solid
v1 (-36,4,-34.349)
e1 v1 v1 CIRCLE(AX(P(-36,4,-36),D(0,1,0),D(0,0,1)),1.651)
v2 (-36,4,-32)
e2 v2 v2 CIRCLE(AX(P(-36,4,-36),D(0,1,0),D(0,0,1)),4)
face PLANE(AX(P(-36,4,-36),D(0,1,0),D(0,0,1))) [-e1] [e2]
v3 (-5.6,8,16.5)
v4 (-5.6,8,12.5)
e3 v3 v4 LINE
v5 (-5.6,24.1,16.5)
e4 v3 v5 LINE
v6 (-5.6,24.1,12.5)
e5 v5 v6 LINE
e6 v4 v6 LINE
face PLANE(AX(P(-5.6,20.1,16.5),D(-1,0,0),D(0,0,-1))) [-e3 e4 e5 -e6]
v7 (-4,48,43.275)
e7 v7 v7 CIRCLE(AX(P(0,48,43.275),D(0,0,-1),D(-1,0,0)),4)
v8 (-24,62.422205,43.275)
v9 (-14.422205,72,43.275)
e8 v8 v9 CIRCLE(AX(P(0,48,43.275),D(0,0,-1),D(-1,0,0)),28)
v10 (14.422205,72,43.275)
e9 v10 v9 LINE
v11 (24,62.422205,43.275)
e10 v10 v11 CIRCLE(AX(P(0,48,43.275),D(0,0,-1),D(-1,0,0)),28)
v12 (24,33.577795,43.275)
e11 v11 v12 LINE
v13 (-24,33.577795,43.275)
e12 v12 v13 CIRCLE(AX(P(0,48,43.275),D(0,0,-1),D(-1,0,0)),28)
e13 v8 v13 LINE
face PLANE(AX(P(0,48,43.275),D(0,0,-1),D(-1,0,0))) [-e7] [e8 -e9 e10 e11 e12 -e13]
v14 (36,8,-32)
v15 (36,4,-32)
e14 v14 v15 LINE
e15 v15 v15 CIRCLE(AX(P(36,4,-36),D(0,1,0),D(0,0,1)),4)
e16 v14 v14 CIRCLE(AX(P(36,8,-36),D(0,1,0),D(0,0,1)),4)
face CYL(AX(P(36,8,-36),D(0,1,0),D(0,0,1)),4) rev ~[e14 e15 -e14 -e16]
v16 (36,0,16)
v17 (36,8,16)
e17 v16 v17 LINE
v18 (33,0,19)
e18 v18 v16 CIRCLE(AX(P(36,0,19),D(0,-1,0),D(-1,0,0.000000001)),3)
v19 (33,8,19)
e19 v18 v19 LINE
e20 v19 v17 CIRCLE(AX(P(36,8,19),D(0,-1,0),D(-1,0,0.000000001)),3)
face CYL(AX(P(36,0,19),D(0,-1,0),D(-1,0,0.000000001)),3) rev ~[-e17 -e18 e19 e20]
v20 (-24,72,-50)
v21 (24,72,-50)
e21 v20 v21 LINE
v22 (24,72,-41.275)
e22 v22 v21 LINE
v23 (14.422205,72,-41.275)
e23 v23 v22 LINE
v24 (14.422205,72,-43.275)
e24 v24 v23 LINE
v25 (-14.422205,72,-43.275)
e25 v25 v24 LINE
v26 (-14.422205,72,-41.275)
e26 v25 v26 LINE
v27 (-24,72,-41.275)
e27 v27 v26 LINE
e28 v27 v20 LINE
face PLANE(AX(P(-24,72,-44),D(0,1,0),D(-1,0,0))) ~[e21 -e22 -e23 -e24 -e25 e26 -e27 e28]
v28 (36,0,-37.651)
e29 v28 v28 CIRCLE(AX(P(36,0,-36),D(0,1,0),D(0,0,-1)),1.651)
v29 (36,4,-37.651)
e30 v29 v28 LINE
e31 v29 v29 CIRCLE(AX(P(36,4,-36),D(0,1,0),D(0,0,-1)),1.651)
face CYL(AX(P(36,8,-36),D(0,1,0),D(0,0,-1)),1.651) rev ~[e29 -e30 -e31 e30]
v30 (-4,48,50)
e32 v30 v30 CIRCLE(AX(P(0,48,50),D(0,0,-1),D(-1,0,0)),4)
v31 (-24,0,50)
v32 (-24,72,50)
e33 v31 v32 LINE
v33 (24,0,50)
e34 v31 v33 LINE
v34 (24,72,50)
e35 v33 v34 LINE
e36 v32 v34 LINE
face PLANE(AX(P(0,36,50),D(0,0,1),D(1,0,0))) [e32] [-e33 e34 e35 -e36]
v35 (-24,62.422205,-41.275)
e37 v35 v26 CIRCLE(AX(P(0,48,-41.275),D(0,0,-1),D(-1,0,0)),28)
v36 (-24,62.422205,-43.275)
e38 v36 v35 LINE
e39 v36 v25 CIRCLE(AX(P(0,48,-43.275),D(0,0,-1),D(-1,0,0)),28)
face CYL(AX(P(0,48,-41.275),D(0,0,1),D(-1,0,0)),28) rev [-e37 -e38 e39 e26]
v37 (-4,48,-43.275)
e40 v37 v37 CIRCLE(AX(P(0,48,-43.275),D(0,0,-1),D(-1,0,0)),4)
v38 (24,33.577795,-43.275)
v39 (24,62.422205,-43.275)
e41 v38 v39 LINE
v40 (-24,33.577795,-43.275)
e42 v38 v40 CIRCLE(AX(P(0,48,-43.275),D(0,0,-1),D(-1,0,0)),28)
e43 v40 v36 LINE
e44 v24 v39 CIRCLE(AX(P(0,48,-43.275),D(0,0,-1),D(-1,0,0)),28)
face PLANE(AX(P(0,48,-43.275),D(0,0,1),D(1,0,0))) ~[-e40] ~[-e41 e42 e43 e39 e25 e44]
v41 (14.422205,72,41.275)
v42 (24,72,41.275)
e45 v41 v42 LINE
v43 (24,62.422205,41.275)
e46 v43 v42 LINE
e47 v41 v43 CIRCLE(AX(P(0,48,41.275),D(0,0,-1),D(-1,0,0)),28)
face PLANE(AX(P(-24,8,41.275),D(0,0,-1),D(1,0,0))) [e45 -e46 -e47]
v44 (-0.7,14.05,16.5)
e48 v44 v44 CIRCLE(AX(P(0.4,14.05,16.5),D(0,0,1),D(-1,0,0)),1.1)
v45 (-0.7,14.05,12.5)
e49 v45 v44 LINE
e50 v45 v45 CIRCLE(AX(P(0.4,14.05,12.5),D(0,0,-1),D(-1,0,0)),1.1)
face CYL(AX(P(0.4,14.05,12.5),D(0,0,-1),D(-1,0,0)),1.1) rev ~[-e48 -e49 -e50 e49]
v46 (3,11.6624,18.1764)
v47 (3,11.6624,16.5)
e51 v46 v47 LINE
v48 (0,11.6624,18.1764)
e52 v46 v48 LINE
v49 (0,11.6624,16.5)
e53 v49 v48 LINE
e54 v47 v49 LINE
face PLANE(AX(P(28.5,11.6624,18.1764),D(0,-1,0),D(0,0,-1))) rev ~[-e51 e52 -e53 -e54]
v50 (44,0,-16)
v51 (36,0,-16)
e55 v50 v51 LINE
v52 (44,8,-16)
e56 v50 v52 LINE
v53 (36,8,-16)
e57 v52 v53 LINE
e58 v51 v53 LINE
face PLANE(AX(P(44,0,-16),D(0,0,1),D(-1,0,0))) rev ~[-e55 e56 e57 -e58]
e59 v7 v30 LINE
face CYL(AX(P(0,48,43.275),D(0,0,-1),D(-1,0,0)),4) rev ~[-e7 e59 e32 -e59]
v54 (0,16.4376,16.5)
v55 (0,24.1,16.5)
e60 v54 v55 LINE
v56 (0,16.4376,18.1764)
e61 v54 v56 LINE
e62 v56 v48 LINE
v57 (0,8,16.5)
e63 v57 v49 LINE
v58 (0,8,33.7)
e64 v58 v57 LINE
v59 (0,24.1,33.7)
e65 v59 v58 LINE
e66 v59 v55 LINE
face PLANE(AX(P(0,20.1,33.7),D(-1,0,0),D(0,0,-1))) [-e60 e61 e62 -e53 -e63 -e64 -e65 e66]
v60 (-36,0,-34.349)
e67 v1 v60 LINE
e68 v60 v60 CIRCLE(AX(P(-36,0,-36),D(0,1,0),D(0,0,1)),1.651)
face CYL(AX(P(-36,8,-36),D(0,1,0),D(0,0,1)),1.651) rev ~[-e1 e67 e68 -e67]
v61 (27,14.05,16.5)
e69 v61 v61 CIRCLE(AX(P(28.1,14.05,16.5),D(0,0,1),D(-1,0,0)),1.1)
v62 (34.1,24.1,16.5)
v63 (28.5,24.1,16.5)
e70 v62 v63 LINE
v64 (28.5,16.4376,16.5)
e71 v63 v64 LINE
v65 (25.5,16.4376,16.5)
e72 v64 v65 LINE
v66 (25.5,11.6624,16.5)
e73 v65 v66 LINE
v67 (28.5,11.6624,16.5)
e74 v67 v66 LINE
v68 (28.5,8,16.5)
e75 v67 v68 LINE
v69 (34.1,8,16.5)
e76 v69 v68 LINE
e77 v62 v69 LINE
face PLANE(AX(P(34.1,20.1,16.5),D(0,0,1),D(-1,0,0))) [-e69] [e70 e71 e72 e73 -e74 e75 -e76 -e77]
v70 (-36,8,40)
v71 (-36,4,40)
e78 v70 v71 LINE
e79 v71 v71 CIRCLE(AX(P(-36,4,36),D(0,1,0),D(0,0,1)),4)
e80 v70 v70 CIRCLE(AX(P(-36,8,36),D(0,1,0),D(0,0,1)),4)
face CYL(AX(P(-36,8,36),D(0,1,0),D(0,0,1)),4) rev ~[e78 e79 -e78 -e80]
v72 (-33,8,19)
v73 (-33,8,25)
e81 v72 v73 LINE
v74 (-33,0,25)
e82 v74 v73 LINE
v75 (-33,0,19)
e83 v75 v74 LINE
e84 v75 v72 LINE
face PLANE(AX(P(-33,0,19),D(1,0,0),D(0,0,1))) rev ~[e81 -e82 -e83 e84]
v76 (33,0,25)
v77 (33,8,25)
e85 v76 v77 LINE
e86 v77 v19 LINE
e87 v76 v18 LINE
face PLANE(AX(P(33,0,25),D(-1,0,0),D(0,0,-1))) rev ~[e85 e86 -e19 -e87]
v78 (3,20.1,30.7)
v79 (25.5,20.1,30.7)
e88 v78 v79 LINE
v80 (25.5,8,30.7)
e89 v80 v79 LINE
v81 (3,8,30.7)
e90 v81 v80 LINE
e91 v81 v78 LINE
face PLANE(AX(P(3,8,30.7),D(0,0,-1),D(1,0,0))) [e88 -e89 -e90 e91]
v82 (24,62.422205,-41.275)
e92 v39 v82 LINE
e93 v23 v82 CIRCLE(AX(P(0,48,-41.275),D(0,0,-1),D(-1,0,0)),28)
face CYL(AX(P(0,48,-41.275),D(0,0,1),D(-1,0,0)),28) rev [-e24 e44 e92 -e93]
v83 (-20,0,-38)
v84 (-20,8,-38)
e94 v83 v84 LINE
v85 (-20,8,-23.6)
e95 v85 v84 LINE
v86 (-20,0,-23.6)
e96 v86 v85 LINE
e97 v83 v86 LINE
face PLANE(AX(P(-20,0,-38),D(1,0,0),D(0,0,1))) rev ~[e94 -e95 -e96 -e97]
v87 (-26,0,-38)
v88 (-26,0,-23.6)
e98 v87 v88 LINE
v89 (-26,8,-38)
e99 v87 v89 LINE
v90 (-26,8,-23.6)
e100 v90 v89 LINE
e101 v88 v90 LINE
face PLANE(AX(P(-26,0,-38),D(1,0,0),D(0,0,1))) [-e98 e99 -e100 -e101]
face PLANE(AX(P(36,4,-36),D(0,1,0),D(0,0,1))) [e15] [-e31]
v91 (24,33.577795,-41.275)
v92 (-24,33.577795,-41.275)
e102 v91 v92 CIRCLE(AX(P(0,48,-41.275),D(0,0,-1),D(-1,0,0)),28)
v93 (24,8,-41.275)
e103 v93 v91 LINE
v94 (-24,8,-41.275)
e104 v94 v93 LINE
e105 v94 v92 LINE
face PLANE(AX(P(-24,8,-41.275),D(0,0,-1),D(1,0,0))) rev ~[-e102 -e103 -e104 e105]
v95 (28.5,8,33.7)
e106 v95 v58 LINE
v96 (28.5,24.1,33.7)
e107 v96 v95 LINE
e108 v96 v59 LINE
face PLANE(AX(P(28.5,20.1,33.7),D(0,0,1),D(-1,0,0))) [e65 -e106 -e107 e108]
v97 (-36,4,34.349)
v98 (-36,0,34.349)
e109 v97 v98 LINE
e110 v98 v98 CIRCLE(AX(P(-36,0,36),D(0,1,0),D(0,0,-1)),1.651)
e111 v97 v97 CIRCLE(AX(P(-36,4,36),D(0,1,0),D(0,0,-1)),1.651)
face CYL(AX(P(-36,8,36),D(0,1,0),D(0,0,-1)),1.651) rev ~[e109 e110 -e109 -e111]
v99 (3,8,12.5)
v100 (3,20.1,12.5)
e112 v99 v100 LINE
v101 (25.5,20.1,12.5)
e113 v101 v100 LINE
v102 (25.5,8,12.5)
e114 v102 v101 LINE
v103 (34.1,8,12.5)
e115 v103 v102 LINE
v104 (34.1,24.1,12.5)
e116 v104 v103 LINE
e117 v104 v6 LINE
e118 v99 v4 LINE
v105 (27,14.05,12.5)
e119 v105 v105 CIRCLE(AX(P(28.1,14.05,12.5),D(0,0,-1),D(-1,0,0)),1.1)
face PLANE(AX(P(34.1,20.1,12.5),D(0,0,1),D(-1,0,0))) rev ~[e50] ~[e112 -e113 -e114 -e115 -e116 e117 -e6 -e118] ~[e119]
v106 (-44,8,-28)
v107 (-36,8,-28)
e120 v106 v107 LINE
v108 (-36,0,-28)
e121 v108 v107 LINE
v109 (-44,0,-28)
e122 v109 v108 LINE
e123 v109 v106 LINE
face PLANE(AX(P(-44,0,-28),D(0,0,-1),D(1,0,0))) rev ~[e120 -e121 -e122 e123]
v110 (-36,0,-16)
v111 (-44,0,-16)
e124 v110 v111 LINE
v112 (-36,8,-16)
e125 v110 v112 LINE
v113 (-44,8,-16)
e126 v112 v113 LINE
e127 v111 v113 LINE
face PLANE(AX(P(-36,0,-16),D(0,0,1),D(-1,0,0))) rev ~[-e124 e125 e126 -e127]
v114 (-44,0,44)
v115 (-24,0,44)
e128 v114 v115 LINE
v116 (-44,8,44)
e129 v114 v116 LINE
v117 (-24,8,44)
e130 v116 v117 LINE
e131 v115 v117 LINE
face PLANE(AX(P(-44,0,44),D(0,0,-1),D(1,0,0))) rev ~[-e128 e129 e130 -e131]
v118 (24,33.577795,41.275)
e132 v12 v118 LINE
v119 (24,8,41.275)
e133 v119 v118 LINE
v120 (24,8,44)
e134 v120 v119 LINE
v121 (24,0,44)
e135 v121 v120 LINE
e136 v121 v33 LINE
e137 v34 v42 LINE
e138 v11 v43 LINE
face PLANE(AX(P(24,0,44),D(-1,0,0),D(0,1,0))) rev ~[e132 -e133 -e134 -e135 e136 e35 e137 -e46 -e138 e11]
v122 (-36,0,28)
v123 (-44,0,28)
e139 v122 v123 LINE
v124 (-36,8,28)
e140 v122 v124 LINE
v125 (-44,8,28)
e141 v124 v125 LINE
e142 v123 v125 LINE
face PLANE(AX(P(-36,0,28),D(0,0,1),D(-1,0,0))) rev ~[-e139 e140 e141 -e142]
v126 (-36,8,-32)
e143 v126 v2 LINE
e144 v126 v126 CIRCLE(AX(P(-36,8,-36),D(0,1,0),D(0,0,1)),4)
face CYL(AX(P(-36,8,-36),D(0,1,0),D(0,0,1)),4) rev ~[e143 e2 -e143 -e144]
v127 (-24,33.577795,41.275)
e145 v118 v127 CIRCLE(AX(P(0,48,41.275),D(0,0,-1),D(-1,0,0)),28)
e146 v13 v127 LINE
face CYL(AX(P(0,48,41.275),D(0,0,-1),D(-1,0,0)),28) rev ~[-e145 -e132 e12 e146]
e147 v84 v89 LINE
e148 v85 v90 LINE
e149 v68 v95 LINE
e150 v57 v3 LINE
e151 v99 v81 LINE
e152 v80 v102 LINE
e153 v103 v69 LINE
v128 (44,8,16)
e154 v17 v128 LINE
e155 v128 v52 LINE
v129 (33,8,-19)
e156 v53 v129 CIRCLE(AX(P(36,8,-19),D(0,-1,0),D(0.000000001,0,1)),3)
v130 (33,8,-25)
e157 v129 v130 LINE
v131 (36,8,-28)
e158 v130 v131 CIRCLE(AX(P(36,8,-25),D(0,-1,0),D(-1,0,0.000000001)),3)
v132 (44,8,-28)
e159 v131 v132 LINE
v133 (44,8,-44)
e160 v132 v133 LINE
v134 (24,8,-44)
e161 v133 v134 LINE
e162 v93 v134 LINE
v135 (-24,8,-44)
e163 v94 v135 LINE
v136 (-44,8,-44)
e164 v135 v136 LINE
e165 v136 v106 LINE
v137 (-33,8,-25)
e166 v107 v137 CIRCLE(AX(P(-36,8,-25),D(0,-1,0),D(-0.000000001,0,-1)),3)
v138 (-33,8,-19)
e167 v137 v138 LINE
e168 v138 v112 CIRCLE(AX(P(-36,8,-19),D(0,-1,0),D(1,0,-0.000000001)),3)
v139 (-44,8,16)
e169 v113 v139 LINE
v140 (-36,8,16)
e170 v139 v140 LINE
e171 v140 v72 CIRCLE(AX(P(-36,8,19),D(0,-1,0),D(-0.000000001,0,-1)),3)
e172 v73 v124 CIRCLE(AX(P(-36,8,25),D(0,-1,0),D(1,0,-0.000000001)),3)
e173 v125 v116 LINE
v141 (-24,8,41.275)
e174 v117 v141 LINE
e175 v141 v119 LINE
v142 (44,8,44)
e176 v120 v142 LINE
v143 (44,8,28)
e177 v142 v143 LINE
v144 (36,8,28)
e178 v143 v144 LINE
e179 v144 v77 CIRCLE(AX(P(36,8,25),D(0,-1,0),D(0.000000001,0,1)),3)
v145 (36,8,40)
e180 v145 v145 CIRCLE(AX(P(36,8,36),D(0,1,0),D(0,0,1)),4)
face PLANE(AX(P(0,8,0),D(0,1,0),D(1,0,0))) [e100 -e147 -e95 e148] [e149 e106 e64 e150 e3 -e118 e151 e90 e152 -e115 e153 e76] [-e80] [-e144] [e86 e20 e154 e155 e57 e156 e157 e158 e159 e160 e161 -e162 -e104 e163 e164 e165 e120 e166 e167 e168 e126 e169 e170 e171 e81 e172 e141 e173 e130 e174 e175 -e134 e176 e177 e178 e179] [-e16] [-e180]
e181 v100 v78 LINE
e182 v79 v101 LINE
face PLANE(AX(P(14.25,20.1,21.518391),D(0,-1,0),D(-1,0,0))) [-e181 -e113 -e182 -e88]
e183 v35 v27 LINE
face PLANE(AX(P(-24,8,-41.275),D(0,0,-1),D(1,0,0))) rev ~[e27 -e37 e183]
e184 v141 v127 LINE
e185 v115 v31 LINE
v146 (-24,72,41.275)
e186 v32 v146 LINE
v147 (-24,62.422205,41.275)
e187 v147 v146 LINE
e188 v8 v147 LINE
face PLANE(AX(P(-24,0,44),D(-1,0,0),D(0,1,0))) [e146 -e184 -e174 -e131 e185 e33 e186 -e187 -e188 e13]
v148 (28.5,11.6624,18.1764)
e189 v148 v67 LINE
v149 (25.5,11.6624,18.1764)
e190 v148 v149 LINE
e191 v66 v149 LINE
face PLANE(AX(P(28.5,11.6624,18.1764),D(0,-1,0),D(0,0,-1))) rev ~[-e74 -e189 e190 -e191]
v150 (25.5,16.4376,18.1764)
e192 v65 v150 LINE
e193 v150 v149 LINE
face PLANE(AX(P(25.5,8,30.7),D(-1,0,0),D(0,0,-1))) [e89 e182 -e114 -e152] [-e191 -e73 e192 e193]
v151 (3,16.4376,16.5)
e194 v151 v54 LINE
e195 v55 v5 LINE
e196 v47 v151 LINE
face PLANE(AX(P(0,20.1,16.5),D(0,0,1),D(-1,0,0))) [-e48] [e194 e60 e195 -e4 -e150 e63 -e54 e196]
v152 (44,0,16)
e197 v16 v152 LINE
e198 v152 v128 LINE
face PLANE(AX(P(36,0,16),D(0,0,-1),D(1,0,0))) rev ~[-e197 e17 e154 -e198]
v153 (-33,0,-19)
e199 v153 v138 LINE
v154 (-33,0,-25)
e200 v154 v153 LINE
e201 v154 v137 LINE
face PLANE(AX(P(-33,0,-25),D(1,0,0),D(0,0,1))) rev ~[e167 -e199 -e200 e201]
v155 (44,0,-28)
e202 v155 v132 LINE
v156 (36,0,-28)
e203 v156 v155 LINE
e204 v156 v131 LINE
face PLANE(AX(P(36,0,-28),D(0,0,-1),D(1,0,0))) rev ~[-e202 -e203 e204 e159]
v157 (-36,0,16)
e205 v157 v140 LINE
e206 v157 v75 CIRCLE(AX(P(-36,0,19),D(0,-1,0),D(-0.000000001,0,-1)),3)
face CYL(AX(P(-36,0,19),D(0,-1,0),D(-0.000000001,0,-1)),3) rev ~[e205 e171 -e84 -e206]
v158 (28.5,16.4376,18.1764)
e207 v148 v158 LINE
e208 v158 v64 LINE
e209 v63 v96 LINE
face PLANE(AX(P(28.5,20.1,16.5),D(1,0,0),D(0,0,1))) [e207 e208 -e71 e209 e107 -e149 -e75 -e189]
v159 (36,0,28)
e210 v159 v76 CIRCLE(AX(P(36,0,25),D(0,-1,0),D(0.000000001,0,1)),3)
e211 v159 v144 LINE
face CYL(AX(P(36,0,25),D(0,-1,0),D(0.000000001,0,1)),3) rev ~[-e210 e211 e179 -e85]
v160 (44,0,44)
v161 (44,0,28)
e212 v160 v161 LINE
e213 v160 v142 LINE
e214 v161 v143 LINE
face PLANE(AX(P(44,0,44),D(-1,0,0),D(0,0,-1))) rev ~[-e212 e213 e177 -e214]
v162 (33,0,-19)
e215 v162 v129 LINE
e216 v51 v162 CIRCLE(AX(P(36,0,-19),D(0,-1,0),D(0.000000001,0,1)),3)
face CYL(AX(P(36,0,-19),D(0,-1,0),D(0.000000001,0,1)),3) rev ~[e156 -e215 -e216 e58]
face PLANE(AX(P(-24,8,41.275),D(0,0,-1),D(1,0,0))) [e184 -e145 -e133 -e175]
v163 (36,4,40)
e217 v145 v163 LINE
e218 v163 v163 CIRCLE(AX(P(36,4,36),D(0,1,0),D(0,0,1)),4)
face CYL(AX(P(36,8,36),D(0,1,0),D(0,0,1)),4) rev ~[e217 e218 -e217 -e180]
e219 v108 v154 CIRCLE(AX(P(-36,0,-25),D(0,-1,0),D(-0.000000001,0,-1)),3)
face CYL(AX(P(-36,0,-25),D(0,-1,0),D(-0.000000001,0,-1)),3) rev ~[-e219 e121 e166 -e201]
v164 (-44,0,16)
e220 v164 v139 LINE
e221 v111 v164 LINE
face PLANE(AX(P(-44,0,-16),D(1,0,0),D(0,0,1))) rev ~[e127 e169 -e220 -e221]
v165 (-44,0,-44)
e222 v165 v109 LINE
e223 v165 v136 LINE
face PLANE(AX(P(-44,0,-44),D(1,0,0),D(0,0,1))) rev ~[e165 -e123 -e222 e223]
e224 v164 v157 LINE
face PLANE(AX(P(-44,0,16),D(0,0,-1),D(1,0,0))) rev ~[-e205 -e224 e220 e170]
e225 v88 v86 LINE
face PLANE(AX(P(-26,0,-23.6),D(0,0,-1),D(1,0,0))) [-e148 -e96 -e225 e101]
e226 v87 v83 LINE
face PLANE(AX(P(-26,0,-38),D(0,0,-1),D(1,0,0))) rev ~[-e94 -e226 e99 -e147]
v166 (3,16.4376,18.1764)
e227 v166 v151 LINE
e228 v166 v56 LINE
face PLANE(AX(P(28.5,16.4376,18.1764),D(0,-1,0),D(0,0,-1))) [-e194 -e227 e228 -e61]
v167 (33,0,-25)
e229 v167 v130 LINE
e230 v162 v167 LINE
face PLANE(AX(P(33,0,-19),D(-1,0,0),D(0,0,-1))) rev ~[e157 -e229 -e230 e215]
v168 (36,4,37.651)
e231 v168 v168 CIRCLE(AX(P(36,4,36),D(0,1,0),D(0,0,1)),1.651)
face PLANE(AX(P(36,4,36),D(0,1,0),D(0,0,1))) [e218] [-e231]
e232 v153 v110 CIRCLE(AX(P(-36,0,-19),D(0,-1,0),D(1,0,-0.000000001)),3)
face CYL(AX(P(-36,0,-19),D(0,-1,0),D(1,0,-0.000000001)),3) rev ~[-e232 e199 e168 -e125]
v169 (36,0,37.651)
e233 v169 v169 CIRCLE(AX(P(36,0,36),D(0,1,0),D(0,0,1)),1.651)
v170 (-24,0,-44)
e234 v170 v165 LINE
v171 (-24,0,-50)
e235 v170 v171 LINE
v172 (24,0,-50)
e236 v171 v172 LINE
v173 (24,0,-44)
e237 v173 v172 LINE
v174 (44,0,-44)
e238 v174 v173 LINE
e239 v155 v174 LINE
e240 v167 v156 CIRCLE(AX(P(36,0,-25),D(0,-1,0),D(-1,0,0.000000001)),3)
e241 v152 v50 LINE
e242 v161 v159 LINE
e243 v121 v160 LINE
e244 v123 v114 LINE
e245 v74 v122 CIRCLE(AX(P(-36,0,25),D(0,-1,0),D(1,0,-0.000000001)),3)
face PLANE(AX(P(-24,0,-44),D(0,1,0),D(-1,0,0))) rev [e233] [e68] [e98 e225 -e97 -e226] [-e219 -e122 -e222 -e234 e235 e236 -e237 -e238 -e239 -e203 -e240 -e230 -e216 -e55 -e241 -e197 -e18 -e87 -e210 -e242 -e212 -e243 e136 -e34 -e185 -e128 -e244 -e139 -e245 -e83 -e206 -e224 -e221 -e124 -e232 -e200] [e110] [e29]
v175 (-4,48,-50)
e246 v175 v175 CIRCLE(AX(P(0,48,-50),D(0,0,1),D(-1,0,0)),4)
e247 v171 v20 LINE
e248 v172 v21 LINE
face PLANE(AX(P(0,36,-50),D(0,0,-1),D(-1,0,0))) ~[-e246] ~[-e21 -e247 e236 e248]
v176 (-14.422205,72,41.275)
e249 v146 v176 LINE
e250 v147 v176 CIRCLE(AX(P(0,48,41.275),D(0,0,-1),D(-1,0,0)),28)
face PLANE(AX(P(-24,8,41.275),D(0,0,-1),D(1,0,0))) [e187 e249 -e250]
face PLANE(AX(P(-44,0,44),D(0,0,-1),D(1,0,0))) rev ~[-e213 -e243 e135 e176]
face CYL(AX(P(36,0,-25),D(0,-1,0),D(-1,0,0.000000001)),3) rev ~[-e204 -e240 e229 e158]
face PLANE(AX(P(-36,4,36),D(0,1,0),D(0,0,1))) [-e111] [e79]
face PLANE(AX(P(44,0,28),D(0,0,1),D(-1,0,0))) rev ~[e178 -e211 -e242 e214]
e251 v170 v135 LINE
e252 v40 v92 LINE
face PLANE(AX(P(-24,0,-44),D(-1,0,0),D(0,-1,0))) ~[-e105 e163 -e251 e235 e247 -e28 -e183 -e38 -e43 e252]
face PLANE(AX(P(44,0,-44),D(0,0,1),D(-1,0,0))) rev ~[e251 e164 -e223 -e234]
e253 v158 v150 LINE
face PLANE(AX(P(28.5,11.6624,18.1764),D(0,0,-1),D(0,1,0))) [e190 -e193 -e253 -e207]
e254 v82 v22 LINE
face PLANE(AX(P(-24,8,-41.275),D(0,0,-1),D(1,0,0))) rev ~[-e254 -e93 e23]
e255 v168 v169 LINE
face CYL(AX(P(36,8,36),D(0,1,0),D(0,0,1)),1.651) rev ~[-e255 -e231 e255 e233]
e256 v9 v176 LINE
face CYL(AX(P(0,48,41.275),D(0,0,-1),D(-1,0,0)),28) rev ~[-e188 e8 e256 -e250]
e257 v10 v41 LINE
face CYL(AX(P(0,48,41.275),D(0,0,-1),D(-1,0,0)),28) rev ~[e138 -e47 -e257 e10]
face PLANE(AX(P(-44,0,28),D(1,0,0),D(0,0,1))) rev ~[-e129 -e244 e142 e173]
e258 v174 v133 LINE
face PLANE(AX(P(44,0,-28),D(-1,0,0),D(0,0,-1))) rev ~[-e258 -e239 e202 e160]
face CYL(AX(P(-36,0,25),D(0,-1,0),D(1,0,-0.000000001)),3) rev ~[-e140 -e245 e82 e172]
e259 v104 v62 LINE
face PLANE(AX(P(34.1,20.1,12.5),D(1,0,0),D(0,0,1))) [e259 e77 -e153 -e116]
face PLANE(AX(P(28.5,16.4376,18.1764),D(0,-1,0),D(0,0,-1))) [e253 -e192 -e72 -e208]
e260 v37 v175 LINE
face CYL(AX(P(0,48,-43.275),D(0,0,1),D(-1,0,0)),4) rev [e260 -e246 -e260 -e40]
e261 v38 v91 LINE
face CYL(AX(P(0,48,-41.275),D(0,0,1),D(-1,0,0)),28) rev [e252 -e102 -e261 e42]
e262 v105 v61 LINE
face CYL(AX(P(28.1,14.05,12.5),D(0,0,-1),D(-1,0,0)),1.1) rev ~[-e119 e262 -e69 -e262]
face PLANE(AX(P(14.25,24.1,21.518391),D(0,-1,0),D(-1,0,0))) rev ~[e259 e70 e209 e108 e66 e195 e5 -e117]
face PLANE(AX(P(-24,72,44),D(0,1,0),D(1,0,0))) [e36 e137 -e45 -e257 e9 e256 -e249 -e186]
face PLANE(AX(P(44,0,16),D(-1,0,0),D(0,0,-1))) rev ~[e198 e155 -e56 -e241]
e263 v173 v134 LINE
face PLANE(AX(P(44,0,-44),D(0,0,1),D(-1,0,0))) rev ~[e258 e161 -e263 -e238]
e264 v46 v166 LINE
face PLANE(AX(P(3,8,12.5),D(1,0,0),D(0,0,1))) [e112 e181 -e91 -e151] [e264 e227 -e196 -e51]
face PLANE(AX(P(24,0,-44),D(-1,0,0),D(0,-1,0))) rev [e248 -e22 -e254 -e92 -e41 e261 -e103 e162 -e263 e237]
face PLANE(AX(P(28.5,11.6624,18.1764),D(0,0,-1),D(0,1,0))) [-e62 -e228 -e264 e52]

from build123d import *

# Parameters (mm, degrees)
BOSS_EXTRUDE1_DEPTH = 8
SKETCH2_R           = 1.651
CUT_EXTRUDE1_DEPTH  = 63.737548565
SKETCH3_R           = 4
CUT_EXTRUDE2_DEPTH  = 4
BOSS_EXTRUDE2_DEPTH = 12.1
BOSS_EXTRUDE3_DEPTH = 4
SKETCH6_R           = 1.1
CUT_EXTRUDE4_DEPTH  = 4
SKETCH7_W           = 1.6764
SKETCH7_H           = 4.7752
CUT_EXTRUDE5_DEPTH  = 89.164959026
SKETCH8_W           = 48
SKETCH8_H           = 2.725
BOSS_EXTRUDE4_DEPTH = 64
SKETCH9_W           = 48
SKETCH9_H           = 72
BOSS_EXTRUDE5_DEPTH = 6
SKETCH10_R          = 28
CUT_EXTRUDE6_DEPTH  = 2
SKETCH12_R          = 4
CUT_EXTRUDE7_DEPTH  = 126.778478386
SKETCH13_W          = 6
SKETCH13_H          = 14.4
CUT_EXTRUDE8_DEPTH  = 99.081598682


with BuildPart() as part:
    # Sketch1 → Boss-Extrude1 (new body)
    with BuildSketch(Plane(origin=(0, 0, 0), x_dir=(1, 0, 0), z_dir=(0, 1, 0))):
        with BuildLine():
            Line((-44, 28), (-36, 28))
            ThreePointArc((-36, 28), (-33.878679656, 27.121320344), (-33, 25))
            Line((-33, 25), (-33, 19))
            ThreePointArc((-33, 19), (-33.878679656, 16.878679656), (-36, 16))
            Line((-36, 16), (-44, 16))
            Line((-44, 16), (-44, -16))
            Line((-44, -16), (-36, -16))
            ThreePointArc((-36, -16), (-33.878679656, -16.878679656), (-33, -19))
            Line((-33, -19), (-33, -25))
            ThreePointArc((-33, -25), (-33.878679656, -27.121320344), (-36, -28))
            Line((-36, -28), (-44, -28))
            Line((-44, -28), (-44, -44))
            Line((-44, -44), (44, -44))
            Line((44, -44), (44, -28))
            Line((44, -28), (36, -28))
            ThreePointArc((36, -28), (33.878679656, -27.121320344), (33, -25))
            Line((33, -25), (33, -19))
            ThreePointArc((33, -19), (33.878679656, -16.878679656), (36, -16))
            Line((36, -16), (44, -16))
            Line((44, -16), (44, 16))
            Line((44, 16), (36, 16))
            ThreePointArc((36, 16), (33.878679656, 16.878679656), (33, 19))
            Line((33, 19), (33, 25))
            ThreePointArc((33, 25), (33.878679656, 27.121320344), (36, 28))
            Line((36, 28), (44, 28))
            Line((44, 28), (44, 44))
            Line((44, 44), (-44, 44))
            Line((-44, 44), (-44, 28))
        make_face()
    extrude(amount=BOSS_EXTRUDE1_DEPTH)

    # Sketch2 → Cut-Extrude1 (cut, through all)
    with BuildSketch(Plane(origin=(0, 8, 0), x_dir=(1, 0, 0), z_dir=(0, 1, 0))):
        with Locations(Location((-36, 36, 0), (0, 0, 270))):
            Circle(SKETCH2_R)
        with Locations(Location((36, 36, 0), (0, 0, 90))):
            Circle(SKETCH2_R)
        with Locations(Location((36, -36, 0), (0, 0, 270))):
            Circle(SKETCH2_R)
        with Locations(Location((-36, -36, 0), (0, 0, 90))):
            Circle(SKETCH2_R)
    extrude(amount=-CUT_EXTRUDE1_DEPTH, mode=Mode.SUBTRACT)

    # Sketch3 → Cut-Extrude2 (cut)
    with BuildSketch(Plane(origin=(0, 8, 0), x_dir=(1, 0, 0), z_dir=(0, 1, 0))):
        with Locations(Location((-36, 36, 0), (0, 0, 270))):
            Circle(SKETCH3_R)
        with Locations(Location((36, 36, 0), (0, 0, 270))):
            Circle(SKETCH3_R)
        with Locations(Location((36, -36, 0), (0, 0, 270))):
            Circle(SKETCH3_R)
        with Locations(Location((-36, -36, 0), (0, 0, 270))):
            Circle(SKETCH3_R)
    extrude(amount=-CUT_EXTRUDE2_DEPTH, mode=Mode.SUBTRACT)

    # Sketch4 → Boss-Extrude2 (add)
    with BuildSketch(Plane(origin=(0, 8, 0), x_dir=(1, 0, 0), z_dir=(0, 1, 0))):
        Polygon((0, -12.5), (3, -12.5), (3, -30.7), (25.5, -30.7), (25.5, -12.5), (28.5, -12.5), (34.1, -12.5), (34.1, -16.5), (28.5, -16.5), (28.5, -33.7), (0, -33.7), (0, -16.5), (-5.6, -16.5), (-5.6, -12.5), align=None)
    extrude(amount=BOSS_EXTRUDE2_DEPTH)

    # Sketch5 → Boss-Extrude3 (add)
    with BuildSketch(Plane(origin=(0, 20.1, 0), x_dir=(1, 0, 0), z_dir=(0, 1, 0))):
        Polygon((3, -12.5), (25.5, -12.5), (34.1, -12.5), (34.1, -16.5), (28.5, -16.5), (28.5, -33.7), (0, -33.7), (0, -16.5), (-5.6, -16.5), (-5.6, -12.5), align=None)
    extrude(amount=BOSS_EXTRUDE3_DEPTH)

    # Sketch6 → Cut-Extrude4 (cut)
    with BuildSketch(Plane(origin=(0, 0, 12.5), x_dir=(-1, 0, 0), z_dir=(0, 0, -1))):
        with Locations((-28.1, 14.05)):
            Circle(SKETCH6_R)
        with Locations((-0.4, 14.05)):
            Circle(SKETCH6_R)
    extrude(amount=-CUT_EXTRUDE4_DEPTH, mode=Mode.SUBTRACT)

    # Sketch7 → Cut-Extrude5 (cut, through all)
    with BuildSketch(Plane(origin=(28.5, 0, 0), x_dir=(0, 0, -1), z_dir=(1, 0, 0))):
        with Locations((-17.3382, 14.05)):
            Rectangle(SKETCH7_W, SKETCH7_H)
    extrude(amount=-CUT_EXTRUDE5_DEPTH, mode=Mode.SUBTRACT)

    # Sketch8 → Boss-Extrude4 (add)
    with BuildSketch(Plane(origin=(0, 8, 0), x_dir=(1, 0, 0), z_dir=(0, 1, 0))):
        with Locations((0, 42.6375)):
            Rectangle(SKETCH8_W, SKETCH8_H)
        with Locations((0, -42.6375)):
            Rectangle(SKETCH8_W, SKETCH8_H)
    extrude(amount=BOSS_EXTRUDE4_DEPTH)

    # Sketch9 → Boss-Extrude5 (add)
    with BuildSketch(Plane.XY.offset(44)):
        with Locations((0, 36)):
            Rectangle(SKETCH9_W, SKETCH9_H)
    boss_extrude5 = extrude(amount=BOSS_EXTRUDE5_DEPTH)

    # Mirror1: Boss-Extrude5 across plane
    add(boss_extrude5.mirror(Plane.XY))

    # Sketch10 → Cut-Extrude6 (cut)
    with BuildSketch(Plane(origin=(0, 0, 41.275), x_dir=(-1, 0, 0), z_dir=(0, 0, -1))):
        with Locations((0, 48)):
            Circle(SKETCH10_R)
    cut_extrude6 = extrude(amount=-CUT_EXTRUDE6_DEPTH, mode=Mode.SUBTRACT)

    # Sketch12 → Cut-Extrude7 (cut, through all)
    with BuildSketch(Plane(origin=(0, 0, 43.275), x_dir=(-1, 0, 0), z_dir=(0, 0, -1))):
        with Locations((0, 48)):
            Circle(SKETCH12_R)
    cut_extrude7 = extrude(amount=-CUT_EXTRUDE7_DEPTH, mode=Mode.SUBTRACT)

    # Mirror2: Cut-Extrude6, Cut-Extrude7 across plane
    add(cut_extrude6.mirror(Plane.XY), mode=Mode.SUBTRACT)
    add(cut_extrude7.mirror(Plane.XY), mode=Mode.SUBTRACT)

    # Sketch13 → Cut-Extrude8 (cut, through all)
    with BuildSketch(Plane.XZ):
        with Locations((-23, -30.8)):
            Rectangle(SKETCH13_W, SKETCH13_H)
    extrude(amount=-CUT_EXTRUDE8_DEPTH, mode=Mode.SUBTRACT)


solid = part.part
